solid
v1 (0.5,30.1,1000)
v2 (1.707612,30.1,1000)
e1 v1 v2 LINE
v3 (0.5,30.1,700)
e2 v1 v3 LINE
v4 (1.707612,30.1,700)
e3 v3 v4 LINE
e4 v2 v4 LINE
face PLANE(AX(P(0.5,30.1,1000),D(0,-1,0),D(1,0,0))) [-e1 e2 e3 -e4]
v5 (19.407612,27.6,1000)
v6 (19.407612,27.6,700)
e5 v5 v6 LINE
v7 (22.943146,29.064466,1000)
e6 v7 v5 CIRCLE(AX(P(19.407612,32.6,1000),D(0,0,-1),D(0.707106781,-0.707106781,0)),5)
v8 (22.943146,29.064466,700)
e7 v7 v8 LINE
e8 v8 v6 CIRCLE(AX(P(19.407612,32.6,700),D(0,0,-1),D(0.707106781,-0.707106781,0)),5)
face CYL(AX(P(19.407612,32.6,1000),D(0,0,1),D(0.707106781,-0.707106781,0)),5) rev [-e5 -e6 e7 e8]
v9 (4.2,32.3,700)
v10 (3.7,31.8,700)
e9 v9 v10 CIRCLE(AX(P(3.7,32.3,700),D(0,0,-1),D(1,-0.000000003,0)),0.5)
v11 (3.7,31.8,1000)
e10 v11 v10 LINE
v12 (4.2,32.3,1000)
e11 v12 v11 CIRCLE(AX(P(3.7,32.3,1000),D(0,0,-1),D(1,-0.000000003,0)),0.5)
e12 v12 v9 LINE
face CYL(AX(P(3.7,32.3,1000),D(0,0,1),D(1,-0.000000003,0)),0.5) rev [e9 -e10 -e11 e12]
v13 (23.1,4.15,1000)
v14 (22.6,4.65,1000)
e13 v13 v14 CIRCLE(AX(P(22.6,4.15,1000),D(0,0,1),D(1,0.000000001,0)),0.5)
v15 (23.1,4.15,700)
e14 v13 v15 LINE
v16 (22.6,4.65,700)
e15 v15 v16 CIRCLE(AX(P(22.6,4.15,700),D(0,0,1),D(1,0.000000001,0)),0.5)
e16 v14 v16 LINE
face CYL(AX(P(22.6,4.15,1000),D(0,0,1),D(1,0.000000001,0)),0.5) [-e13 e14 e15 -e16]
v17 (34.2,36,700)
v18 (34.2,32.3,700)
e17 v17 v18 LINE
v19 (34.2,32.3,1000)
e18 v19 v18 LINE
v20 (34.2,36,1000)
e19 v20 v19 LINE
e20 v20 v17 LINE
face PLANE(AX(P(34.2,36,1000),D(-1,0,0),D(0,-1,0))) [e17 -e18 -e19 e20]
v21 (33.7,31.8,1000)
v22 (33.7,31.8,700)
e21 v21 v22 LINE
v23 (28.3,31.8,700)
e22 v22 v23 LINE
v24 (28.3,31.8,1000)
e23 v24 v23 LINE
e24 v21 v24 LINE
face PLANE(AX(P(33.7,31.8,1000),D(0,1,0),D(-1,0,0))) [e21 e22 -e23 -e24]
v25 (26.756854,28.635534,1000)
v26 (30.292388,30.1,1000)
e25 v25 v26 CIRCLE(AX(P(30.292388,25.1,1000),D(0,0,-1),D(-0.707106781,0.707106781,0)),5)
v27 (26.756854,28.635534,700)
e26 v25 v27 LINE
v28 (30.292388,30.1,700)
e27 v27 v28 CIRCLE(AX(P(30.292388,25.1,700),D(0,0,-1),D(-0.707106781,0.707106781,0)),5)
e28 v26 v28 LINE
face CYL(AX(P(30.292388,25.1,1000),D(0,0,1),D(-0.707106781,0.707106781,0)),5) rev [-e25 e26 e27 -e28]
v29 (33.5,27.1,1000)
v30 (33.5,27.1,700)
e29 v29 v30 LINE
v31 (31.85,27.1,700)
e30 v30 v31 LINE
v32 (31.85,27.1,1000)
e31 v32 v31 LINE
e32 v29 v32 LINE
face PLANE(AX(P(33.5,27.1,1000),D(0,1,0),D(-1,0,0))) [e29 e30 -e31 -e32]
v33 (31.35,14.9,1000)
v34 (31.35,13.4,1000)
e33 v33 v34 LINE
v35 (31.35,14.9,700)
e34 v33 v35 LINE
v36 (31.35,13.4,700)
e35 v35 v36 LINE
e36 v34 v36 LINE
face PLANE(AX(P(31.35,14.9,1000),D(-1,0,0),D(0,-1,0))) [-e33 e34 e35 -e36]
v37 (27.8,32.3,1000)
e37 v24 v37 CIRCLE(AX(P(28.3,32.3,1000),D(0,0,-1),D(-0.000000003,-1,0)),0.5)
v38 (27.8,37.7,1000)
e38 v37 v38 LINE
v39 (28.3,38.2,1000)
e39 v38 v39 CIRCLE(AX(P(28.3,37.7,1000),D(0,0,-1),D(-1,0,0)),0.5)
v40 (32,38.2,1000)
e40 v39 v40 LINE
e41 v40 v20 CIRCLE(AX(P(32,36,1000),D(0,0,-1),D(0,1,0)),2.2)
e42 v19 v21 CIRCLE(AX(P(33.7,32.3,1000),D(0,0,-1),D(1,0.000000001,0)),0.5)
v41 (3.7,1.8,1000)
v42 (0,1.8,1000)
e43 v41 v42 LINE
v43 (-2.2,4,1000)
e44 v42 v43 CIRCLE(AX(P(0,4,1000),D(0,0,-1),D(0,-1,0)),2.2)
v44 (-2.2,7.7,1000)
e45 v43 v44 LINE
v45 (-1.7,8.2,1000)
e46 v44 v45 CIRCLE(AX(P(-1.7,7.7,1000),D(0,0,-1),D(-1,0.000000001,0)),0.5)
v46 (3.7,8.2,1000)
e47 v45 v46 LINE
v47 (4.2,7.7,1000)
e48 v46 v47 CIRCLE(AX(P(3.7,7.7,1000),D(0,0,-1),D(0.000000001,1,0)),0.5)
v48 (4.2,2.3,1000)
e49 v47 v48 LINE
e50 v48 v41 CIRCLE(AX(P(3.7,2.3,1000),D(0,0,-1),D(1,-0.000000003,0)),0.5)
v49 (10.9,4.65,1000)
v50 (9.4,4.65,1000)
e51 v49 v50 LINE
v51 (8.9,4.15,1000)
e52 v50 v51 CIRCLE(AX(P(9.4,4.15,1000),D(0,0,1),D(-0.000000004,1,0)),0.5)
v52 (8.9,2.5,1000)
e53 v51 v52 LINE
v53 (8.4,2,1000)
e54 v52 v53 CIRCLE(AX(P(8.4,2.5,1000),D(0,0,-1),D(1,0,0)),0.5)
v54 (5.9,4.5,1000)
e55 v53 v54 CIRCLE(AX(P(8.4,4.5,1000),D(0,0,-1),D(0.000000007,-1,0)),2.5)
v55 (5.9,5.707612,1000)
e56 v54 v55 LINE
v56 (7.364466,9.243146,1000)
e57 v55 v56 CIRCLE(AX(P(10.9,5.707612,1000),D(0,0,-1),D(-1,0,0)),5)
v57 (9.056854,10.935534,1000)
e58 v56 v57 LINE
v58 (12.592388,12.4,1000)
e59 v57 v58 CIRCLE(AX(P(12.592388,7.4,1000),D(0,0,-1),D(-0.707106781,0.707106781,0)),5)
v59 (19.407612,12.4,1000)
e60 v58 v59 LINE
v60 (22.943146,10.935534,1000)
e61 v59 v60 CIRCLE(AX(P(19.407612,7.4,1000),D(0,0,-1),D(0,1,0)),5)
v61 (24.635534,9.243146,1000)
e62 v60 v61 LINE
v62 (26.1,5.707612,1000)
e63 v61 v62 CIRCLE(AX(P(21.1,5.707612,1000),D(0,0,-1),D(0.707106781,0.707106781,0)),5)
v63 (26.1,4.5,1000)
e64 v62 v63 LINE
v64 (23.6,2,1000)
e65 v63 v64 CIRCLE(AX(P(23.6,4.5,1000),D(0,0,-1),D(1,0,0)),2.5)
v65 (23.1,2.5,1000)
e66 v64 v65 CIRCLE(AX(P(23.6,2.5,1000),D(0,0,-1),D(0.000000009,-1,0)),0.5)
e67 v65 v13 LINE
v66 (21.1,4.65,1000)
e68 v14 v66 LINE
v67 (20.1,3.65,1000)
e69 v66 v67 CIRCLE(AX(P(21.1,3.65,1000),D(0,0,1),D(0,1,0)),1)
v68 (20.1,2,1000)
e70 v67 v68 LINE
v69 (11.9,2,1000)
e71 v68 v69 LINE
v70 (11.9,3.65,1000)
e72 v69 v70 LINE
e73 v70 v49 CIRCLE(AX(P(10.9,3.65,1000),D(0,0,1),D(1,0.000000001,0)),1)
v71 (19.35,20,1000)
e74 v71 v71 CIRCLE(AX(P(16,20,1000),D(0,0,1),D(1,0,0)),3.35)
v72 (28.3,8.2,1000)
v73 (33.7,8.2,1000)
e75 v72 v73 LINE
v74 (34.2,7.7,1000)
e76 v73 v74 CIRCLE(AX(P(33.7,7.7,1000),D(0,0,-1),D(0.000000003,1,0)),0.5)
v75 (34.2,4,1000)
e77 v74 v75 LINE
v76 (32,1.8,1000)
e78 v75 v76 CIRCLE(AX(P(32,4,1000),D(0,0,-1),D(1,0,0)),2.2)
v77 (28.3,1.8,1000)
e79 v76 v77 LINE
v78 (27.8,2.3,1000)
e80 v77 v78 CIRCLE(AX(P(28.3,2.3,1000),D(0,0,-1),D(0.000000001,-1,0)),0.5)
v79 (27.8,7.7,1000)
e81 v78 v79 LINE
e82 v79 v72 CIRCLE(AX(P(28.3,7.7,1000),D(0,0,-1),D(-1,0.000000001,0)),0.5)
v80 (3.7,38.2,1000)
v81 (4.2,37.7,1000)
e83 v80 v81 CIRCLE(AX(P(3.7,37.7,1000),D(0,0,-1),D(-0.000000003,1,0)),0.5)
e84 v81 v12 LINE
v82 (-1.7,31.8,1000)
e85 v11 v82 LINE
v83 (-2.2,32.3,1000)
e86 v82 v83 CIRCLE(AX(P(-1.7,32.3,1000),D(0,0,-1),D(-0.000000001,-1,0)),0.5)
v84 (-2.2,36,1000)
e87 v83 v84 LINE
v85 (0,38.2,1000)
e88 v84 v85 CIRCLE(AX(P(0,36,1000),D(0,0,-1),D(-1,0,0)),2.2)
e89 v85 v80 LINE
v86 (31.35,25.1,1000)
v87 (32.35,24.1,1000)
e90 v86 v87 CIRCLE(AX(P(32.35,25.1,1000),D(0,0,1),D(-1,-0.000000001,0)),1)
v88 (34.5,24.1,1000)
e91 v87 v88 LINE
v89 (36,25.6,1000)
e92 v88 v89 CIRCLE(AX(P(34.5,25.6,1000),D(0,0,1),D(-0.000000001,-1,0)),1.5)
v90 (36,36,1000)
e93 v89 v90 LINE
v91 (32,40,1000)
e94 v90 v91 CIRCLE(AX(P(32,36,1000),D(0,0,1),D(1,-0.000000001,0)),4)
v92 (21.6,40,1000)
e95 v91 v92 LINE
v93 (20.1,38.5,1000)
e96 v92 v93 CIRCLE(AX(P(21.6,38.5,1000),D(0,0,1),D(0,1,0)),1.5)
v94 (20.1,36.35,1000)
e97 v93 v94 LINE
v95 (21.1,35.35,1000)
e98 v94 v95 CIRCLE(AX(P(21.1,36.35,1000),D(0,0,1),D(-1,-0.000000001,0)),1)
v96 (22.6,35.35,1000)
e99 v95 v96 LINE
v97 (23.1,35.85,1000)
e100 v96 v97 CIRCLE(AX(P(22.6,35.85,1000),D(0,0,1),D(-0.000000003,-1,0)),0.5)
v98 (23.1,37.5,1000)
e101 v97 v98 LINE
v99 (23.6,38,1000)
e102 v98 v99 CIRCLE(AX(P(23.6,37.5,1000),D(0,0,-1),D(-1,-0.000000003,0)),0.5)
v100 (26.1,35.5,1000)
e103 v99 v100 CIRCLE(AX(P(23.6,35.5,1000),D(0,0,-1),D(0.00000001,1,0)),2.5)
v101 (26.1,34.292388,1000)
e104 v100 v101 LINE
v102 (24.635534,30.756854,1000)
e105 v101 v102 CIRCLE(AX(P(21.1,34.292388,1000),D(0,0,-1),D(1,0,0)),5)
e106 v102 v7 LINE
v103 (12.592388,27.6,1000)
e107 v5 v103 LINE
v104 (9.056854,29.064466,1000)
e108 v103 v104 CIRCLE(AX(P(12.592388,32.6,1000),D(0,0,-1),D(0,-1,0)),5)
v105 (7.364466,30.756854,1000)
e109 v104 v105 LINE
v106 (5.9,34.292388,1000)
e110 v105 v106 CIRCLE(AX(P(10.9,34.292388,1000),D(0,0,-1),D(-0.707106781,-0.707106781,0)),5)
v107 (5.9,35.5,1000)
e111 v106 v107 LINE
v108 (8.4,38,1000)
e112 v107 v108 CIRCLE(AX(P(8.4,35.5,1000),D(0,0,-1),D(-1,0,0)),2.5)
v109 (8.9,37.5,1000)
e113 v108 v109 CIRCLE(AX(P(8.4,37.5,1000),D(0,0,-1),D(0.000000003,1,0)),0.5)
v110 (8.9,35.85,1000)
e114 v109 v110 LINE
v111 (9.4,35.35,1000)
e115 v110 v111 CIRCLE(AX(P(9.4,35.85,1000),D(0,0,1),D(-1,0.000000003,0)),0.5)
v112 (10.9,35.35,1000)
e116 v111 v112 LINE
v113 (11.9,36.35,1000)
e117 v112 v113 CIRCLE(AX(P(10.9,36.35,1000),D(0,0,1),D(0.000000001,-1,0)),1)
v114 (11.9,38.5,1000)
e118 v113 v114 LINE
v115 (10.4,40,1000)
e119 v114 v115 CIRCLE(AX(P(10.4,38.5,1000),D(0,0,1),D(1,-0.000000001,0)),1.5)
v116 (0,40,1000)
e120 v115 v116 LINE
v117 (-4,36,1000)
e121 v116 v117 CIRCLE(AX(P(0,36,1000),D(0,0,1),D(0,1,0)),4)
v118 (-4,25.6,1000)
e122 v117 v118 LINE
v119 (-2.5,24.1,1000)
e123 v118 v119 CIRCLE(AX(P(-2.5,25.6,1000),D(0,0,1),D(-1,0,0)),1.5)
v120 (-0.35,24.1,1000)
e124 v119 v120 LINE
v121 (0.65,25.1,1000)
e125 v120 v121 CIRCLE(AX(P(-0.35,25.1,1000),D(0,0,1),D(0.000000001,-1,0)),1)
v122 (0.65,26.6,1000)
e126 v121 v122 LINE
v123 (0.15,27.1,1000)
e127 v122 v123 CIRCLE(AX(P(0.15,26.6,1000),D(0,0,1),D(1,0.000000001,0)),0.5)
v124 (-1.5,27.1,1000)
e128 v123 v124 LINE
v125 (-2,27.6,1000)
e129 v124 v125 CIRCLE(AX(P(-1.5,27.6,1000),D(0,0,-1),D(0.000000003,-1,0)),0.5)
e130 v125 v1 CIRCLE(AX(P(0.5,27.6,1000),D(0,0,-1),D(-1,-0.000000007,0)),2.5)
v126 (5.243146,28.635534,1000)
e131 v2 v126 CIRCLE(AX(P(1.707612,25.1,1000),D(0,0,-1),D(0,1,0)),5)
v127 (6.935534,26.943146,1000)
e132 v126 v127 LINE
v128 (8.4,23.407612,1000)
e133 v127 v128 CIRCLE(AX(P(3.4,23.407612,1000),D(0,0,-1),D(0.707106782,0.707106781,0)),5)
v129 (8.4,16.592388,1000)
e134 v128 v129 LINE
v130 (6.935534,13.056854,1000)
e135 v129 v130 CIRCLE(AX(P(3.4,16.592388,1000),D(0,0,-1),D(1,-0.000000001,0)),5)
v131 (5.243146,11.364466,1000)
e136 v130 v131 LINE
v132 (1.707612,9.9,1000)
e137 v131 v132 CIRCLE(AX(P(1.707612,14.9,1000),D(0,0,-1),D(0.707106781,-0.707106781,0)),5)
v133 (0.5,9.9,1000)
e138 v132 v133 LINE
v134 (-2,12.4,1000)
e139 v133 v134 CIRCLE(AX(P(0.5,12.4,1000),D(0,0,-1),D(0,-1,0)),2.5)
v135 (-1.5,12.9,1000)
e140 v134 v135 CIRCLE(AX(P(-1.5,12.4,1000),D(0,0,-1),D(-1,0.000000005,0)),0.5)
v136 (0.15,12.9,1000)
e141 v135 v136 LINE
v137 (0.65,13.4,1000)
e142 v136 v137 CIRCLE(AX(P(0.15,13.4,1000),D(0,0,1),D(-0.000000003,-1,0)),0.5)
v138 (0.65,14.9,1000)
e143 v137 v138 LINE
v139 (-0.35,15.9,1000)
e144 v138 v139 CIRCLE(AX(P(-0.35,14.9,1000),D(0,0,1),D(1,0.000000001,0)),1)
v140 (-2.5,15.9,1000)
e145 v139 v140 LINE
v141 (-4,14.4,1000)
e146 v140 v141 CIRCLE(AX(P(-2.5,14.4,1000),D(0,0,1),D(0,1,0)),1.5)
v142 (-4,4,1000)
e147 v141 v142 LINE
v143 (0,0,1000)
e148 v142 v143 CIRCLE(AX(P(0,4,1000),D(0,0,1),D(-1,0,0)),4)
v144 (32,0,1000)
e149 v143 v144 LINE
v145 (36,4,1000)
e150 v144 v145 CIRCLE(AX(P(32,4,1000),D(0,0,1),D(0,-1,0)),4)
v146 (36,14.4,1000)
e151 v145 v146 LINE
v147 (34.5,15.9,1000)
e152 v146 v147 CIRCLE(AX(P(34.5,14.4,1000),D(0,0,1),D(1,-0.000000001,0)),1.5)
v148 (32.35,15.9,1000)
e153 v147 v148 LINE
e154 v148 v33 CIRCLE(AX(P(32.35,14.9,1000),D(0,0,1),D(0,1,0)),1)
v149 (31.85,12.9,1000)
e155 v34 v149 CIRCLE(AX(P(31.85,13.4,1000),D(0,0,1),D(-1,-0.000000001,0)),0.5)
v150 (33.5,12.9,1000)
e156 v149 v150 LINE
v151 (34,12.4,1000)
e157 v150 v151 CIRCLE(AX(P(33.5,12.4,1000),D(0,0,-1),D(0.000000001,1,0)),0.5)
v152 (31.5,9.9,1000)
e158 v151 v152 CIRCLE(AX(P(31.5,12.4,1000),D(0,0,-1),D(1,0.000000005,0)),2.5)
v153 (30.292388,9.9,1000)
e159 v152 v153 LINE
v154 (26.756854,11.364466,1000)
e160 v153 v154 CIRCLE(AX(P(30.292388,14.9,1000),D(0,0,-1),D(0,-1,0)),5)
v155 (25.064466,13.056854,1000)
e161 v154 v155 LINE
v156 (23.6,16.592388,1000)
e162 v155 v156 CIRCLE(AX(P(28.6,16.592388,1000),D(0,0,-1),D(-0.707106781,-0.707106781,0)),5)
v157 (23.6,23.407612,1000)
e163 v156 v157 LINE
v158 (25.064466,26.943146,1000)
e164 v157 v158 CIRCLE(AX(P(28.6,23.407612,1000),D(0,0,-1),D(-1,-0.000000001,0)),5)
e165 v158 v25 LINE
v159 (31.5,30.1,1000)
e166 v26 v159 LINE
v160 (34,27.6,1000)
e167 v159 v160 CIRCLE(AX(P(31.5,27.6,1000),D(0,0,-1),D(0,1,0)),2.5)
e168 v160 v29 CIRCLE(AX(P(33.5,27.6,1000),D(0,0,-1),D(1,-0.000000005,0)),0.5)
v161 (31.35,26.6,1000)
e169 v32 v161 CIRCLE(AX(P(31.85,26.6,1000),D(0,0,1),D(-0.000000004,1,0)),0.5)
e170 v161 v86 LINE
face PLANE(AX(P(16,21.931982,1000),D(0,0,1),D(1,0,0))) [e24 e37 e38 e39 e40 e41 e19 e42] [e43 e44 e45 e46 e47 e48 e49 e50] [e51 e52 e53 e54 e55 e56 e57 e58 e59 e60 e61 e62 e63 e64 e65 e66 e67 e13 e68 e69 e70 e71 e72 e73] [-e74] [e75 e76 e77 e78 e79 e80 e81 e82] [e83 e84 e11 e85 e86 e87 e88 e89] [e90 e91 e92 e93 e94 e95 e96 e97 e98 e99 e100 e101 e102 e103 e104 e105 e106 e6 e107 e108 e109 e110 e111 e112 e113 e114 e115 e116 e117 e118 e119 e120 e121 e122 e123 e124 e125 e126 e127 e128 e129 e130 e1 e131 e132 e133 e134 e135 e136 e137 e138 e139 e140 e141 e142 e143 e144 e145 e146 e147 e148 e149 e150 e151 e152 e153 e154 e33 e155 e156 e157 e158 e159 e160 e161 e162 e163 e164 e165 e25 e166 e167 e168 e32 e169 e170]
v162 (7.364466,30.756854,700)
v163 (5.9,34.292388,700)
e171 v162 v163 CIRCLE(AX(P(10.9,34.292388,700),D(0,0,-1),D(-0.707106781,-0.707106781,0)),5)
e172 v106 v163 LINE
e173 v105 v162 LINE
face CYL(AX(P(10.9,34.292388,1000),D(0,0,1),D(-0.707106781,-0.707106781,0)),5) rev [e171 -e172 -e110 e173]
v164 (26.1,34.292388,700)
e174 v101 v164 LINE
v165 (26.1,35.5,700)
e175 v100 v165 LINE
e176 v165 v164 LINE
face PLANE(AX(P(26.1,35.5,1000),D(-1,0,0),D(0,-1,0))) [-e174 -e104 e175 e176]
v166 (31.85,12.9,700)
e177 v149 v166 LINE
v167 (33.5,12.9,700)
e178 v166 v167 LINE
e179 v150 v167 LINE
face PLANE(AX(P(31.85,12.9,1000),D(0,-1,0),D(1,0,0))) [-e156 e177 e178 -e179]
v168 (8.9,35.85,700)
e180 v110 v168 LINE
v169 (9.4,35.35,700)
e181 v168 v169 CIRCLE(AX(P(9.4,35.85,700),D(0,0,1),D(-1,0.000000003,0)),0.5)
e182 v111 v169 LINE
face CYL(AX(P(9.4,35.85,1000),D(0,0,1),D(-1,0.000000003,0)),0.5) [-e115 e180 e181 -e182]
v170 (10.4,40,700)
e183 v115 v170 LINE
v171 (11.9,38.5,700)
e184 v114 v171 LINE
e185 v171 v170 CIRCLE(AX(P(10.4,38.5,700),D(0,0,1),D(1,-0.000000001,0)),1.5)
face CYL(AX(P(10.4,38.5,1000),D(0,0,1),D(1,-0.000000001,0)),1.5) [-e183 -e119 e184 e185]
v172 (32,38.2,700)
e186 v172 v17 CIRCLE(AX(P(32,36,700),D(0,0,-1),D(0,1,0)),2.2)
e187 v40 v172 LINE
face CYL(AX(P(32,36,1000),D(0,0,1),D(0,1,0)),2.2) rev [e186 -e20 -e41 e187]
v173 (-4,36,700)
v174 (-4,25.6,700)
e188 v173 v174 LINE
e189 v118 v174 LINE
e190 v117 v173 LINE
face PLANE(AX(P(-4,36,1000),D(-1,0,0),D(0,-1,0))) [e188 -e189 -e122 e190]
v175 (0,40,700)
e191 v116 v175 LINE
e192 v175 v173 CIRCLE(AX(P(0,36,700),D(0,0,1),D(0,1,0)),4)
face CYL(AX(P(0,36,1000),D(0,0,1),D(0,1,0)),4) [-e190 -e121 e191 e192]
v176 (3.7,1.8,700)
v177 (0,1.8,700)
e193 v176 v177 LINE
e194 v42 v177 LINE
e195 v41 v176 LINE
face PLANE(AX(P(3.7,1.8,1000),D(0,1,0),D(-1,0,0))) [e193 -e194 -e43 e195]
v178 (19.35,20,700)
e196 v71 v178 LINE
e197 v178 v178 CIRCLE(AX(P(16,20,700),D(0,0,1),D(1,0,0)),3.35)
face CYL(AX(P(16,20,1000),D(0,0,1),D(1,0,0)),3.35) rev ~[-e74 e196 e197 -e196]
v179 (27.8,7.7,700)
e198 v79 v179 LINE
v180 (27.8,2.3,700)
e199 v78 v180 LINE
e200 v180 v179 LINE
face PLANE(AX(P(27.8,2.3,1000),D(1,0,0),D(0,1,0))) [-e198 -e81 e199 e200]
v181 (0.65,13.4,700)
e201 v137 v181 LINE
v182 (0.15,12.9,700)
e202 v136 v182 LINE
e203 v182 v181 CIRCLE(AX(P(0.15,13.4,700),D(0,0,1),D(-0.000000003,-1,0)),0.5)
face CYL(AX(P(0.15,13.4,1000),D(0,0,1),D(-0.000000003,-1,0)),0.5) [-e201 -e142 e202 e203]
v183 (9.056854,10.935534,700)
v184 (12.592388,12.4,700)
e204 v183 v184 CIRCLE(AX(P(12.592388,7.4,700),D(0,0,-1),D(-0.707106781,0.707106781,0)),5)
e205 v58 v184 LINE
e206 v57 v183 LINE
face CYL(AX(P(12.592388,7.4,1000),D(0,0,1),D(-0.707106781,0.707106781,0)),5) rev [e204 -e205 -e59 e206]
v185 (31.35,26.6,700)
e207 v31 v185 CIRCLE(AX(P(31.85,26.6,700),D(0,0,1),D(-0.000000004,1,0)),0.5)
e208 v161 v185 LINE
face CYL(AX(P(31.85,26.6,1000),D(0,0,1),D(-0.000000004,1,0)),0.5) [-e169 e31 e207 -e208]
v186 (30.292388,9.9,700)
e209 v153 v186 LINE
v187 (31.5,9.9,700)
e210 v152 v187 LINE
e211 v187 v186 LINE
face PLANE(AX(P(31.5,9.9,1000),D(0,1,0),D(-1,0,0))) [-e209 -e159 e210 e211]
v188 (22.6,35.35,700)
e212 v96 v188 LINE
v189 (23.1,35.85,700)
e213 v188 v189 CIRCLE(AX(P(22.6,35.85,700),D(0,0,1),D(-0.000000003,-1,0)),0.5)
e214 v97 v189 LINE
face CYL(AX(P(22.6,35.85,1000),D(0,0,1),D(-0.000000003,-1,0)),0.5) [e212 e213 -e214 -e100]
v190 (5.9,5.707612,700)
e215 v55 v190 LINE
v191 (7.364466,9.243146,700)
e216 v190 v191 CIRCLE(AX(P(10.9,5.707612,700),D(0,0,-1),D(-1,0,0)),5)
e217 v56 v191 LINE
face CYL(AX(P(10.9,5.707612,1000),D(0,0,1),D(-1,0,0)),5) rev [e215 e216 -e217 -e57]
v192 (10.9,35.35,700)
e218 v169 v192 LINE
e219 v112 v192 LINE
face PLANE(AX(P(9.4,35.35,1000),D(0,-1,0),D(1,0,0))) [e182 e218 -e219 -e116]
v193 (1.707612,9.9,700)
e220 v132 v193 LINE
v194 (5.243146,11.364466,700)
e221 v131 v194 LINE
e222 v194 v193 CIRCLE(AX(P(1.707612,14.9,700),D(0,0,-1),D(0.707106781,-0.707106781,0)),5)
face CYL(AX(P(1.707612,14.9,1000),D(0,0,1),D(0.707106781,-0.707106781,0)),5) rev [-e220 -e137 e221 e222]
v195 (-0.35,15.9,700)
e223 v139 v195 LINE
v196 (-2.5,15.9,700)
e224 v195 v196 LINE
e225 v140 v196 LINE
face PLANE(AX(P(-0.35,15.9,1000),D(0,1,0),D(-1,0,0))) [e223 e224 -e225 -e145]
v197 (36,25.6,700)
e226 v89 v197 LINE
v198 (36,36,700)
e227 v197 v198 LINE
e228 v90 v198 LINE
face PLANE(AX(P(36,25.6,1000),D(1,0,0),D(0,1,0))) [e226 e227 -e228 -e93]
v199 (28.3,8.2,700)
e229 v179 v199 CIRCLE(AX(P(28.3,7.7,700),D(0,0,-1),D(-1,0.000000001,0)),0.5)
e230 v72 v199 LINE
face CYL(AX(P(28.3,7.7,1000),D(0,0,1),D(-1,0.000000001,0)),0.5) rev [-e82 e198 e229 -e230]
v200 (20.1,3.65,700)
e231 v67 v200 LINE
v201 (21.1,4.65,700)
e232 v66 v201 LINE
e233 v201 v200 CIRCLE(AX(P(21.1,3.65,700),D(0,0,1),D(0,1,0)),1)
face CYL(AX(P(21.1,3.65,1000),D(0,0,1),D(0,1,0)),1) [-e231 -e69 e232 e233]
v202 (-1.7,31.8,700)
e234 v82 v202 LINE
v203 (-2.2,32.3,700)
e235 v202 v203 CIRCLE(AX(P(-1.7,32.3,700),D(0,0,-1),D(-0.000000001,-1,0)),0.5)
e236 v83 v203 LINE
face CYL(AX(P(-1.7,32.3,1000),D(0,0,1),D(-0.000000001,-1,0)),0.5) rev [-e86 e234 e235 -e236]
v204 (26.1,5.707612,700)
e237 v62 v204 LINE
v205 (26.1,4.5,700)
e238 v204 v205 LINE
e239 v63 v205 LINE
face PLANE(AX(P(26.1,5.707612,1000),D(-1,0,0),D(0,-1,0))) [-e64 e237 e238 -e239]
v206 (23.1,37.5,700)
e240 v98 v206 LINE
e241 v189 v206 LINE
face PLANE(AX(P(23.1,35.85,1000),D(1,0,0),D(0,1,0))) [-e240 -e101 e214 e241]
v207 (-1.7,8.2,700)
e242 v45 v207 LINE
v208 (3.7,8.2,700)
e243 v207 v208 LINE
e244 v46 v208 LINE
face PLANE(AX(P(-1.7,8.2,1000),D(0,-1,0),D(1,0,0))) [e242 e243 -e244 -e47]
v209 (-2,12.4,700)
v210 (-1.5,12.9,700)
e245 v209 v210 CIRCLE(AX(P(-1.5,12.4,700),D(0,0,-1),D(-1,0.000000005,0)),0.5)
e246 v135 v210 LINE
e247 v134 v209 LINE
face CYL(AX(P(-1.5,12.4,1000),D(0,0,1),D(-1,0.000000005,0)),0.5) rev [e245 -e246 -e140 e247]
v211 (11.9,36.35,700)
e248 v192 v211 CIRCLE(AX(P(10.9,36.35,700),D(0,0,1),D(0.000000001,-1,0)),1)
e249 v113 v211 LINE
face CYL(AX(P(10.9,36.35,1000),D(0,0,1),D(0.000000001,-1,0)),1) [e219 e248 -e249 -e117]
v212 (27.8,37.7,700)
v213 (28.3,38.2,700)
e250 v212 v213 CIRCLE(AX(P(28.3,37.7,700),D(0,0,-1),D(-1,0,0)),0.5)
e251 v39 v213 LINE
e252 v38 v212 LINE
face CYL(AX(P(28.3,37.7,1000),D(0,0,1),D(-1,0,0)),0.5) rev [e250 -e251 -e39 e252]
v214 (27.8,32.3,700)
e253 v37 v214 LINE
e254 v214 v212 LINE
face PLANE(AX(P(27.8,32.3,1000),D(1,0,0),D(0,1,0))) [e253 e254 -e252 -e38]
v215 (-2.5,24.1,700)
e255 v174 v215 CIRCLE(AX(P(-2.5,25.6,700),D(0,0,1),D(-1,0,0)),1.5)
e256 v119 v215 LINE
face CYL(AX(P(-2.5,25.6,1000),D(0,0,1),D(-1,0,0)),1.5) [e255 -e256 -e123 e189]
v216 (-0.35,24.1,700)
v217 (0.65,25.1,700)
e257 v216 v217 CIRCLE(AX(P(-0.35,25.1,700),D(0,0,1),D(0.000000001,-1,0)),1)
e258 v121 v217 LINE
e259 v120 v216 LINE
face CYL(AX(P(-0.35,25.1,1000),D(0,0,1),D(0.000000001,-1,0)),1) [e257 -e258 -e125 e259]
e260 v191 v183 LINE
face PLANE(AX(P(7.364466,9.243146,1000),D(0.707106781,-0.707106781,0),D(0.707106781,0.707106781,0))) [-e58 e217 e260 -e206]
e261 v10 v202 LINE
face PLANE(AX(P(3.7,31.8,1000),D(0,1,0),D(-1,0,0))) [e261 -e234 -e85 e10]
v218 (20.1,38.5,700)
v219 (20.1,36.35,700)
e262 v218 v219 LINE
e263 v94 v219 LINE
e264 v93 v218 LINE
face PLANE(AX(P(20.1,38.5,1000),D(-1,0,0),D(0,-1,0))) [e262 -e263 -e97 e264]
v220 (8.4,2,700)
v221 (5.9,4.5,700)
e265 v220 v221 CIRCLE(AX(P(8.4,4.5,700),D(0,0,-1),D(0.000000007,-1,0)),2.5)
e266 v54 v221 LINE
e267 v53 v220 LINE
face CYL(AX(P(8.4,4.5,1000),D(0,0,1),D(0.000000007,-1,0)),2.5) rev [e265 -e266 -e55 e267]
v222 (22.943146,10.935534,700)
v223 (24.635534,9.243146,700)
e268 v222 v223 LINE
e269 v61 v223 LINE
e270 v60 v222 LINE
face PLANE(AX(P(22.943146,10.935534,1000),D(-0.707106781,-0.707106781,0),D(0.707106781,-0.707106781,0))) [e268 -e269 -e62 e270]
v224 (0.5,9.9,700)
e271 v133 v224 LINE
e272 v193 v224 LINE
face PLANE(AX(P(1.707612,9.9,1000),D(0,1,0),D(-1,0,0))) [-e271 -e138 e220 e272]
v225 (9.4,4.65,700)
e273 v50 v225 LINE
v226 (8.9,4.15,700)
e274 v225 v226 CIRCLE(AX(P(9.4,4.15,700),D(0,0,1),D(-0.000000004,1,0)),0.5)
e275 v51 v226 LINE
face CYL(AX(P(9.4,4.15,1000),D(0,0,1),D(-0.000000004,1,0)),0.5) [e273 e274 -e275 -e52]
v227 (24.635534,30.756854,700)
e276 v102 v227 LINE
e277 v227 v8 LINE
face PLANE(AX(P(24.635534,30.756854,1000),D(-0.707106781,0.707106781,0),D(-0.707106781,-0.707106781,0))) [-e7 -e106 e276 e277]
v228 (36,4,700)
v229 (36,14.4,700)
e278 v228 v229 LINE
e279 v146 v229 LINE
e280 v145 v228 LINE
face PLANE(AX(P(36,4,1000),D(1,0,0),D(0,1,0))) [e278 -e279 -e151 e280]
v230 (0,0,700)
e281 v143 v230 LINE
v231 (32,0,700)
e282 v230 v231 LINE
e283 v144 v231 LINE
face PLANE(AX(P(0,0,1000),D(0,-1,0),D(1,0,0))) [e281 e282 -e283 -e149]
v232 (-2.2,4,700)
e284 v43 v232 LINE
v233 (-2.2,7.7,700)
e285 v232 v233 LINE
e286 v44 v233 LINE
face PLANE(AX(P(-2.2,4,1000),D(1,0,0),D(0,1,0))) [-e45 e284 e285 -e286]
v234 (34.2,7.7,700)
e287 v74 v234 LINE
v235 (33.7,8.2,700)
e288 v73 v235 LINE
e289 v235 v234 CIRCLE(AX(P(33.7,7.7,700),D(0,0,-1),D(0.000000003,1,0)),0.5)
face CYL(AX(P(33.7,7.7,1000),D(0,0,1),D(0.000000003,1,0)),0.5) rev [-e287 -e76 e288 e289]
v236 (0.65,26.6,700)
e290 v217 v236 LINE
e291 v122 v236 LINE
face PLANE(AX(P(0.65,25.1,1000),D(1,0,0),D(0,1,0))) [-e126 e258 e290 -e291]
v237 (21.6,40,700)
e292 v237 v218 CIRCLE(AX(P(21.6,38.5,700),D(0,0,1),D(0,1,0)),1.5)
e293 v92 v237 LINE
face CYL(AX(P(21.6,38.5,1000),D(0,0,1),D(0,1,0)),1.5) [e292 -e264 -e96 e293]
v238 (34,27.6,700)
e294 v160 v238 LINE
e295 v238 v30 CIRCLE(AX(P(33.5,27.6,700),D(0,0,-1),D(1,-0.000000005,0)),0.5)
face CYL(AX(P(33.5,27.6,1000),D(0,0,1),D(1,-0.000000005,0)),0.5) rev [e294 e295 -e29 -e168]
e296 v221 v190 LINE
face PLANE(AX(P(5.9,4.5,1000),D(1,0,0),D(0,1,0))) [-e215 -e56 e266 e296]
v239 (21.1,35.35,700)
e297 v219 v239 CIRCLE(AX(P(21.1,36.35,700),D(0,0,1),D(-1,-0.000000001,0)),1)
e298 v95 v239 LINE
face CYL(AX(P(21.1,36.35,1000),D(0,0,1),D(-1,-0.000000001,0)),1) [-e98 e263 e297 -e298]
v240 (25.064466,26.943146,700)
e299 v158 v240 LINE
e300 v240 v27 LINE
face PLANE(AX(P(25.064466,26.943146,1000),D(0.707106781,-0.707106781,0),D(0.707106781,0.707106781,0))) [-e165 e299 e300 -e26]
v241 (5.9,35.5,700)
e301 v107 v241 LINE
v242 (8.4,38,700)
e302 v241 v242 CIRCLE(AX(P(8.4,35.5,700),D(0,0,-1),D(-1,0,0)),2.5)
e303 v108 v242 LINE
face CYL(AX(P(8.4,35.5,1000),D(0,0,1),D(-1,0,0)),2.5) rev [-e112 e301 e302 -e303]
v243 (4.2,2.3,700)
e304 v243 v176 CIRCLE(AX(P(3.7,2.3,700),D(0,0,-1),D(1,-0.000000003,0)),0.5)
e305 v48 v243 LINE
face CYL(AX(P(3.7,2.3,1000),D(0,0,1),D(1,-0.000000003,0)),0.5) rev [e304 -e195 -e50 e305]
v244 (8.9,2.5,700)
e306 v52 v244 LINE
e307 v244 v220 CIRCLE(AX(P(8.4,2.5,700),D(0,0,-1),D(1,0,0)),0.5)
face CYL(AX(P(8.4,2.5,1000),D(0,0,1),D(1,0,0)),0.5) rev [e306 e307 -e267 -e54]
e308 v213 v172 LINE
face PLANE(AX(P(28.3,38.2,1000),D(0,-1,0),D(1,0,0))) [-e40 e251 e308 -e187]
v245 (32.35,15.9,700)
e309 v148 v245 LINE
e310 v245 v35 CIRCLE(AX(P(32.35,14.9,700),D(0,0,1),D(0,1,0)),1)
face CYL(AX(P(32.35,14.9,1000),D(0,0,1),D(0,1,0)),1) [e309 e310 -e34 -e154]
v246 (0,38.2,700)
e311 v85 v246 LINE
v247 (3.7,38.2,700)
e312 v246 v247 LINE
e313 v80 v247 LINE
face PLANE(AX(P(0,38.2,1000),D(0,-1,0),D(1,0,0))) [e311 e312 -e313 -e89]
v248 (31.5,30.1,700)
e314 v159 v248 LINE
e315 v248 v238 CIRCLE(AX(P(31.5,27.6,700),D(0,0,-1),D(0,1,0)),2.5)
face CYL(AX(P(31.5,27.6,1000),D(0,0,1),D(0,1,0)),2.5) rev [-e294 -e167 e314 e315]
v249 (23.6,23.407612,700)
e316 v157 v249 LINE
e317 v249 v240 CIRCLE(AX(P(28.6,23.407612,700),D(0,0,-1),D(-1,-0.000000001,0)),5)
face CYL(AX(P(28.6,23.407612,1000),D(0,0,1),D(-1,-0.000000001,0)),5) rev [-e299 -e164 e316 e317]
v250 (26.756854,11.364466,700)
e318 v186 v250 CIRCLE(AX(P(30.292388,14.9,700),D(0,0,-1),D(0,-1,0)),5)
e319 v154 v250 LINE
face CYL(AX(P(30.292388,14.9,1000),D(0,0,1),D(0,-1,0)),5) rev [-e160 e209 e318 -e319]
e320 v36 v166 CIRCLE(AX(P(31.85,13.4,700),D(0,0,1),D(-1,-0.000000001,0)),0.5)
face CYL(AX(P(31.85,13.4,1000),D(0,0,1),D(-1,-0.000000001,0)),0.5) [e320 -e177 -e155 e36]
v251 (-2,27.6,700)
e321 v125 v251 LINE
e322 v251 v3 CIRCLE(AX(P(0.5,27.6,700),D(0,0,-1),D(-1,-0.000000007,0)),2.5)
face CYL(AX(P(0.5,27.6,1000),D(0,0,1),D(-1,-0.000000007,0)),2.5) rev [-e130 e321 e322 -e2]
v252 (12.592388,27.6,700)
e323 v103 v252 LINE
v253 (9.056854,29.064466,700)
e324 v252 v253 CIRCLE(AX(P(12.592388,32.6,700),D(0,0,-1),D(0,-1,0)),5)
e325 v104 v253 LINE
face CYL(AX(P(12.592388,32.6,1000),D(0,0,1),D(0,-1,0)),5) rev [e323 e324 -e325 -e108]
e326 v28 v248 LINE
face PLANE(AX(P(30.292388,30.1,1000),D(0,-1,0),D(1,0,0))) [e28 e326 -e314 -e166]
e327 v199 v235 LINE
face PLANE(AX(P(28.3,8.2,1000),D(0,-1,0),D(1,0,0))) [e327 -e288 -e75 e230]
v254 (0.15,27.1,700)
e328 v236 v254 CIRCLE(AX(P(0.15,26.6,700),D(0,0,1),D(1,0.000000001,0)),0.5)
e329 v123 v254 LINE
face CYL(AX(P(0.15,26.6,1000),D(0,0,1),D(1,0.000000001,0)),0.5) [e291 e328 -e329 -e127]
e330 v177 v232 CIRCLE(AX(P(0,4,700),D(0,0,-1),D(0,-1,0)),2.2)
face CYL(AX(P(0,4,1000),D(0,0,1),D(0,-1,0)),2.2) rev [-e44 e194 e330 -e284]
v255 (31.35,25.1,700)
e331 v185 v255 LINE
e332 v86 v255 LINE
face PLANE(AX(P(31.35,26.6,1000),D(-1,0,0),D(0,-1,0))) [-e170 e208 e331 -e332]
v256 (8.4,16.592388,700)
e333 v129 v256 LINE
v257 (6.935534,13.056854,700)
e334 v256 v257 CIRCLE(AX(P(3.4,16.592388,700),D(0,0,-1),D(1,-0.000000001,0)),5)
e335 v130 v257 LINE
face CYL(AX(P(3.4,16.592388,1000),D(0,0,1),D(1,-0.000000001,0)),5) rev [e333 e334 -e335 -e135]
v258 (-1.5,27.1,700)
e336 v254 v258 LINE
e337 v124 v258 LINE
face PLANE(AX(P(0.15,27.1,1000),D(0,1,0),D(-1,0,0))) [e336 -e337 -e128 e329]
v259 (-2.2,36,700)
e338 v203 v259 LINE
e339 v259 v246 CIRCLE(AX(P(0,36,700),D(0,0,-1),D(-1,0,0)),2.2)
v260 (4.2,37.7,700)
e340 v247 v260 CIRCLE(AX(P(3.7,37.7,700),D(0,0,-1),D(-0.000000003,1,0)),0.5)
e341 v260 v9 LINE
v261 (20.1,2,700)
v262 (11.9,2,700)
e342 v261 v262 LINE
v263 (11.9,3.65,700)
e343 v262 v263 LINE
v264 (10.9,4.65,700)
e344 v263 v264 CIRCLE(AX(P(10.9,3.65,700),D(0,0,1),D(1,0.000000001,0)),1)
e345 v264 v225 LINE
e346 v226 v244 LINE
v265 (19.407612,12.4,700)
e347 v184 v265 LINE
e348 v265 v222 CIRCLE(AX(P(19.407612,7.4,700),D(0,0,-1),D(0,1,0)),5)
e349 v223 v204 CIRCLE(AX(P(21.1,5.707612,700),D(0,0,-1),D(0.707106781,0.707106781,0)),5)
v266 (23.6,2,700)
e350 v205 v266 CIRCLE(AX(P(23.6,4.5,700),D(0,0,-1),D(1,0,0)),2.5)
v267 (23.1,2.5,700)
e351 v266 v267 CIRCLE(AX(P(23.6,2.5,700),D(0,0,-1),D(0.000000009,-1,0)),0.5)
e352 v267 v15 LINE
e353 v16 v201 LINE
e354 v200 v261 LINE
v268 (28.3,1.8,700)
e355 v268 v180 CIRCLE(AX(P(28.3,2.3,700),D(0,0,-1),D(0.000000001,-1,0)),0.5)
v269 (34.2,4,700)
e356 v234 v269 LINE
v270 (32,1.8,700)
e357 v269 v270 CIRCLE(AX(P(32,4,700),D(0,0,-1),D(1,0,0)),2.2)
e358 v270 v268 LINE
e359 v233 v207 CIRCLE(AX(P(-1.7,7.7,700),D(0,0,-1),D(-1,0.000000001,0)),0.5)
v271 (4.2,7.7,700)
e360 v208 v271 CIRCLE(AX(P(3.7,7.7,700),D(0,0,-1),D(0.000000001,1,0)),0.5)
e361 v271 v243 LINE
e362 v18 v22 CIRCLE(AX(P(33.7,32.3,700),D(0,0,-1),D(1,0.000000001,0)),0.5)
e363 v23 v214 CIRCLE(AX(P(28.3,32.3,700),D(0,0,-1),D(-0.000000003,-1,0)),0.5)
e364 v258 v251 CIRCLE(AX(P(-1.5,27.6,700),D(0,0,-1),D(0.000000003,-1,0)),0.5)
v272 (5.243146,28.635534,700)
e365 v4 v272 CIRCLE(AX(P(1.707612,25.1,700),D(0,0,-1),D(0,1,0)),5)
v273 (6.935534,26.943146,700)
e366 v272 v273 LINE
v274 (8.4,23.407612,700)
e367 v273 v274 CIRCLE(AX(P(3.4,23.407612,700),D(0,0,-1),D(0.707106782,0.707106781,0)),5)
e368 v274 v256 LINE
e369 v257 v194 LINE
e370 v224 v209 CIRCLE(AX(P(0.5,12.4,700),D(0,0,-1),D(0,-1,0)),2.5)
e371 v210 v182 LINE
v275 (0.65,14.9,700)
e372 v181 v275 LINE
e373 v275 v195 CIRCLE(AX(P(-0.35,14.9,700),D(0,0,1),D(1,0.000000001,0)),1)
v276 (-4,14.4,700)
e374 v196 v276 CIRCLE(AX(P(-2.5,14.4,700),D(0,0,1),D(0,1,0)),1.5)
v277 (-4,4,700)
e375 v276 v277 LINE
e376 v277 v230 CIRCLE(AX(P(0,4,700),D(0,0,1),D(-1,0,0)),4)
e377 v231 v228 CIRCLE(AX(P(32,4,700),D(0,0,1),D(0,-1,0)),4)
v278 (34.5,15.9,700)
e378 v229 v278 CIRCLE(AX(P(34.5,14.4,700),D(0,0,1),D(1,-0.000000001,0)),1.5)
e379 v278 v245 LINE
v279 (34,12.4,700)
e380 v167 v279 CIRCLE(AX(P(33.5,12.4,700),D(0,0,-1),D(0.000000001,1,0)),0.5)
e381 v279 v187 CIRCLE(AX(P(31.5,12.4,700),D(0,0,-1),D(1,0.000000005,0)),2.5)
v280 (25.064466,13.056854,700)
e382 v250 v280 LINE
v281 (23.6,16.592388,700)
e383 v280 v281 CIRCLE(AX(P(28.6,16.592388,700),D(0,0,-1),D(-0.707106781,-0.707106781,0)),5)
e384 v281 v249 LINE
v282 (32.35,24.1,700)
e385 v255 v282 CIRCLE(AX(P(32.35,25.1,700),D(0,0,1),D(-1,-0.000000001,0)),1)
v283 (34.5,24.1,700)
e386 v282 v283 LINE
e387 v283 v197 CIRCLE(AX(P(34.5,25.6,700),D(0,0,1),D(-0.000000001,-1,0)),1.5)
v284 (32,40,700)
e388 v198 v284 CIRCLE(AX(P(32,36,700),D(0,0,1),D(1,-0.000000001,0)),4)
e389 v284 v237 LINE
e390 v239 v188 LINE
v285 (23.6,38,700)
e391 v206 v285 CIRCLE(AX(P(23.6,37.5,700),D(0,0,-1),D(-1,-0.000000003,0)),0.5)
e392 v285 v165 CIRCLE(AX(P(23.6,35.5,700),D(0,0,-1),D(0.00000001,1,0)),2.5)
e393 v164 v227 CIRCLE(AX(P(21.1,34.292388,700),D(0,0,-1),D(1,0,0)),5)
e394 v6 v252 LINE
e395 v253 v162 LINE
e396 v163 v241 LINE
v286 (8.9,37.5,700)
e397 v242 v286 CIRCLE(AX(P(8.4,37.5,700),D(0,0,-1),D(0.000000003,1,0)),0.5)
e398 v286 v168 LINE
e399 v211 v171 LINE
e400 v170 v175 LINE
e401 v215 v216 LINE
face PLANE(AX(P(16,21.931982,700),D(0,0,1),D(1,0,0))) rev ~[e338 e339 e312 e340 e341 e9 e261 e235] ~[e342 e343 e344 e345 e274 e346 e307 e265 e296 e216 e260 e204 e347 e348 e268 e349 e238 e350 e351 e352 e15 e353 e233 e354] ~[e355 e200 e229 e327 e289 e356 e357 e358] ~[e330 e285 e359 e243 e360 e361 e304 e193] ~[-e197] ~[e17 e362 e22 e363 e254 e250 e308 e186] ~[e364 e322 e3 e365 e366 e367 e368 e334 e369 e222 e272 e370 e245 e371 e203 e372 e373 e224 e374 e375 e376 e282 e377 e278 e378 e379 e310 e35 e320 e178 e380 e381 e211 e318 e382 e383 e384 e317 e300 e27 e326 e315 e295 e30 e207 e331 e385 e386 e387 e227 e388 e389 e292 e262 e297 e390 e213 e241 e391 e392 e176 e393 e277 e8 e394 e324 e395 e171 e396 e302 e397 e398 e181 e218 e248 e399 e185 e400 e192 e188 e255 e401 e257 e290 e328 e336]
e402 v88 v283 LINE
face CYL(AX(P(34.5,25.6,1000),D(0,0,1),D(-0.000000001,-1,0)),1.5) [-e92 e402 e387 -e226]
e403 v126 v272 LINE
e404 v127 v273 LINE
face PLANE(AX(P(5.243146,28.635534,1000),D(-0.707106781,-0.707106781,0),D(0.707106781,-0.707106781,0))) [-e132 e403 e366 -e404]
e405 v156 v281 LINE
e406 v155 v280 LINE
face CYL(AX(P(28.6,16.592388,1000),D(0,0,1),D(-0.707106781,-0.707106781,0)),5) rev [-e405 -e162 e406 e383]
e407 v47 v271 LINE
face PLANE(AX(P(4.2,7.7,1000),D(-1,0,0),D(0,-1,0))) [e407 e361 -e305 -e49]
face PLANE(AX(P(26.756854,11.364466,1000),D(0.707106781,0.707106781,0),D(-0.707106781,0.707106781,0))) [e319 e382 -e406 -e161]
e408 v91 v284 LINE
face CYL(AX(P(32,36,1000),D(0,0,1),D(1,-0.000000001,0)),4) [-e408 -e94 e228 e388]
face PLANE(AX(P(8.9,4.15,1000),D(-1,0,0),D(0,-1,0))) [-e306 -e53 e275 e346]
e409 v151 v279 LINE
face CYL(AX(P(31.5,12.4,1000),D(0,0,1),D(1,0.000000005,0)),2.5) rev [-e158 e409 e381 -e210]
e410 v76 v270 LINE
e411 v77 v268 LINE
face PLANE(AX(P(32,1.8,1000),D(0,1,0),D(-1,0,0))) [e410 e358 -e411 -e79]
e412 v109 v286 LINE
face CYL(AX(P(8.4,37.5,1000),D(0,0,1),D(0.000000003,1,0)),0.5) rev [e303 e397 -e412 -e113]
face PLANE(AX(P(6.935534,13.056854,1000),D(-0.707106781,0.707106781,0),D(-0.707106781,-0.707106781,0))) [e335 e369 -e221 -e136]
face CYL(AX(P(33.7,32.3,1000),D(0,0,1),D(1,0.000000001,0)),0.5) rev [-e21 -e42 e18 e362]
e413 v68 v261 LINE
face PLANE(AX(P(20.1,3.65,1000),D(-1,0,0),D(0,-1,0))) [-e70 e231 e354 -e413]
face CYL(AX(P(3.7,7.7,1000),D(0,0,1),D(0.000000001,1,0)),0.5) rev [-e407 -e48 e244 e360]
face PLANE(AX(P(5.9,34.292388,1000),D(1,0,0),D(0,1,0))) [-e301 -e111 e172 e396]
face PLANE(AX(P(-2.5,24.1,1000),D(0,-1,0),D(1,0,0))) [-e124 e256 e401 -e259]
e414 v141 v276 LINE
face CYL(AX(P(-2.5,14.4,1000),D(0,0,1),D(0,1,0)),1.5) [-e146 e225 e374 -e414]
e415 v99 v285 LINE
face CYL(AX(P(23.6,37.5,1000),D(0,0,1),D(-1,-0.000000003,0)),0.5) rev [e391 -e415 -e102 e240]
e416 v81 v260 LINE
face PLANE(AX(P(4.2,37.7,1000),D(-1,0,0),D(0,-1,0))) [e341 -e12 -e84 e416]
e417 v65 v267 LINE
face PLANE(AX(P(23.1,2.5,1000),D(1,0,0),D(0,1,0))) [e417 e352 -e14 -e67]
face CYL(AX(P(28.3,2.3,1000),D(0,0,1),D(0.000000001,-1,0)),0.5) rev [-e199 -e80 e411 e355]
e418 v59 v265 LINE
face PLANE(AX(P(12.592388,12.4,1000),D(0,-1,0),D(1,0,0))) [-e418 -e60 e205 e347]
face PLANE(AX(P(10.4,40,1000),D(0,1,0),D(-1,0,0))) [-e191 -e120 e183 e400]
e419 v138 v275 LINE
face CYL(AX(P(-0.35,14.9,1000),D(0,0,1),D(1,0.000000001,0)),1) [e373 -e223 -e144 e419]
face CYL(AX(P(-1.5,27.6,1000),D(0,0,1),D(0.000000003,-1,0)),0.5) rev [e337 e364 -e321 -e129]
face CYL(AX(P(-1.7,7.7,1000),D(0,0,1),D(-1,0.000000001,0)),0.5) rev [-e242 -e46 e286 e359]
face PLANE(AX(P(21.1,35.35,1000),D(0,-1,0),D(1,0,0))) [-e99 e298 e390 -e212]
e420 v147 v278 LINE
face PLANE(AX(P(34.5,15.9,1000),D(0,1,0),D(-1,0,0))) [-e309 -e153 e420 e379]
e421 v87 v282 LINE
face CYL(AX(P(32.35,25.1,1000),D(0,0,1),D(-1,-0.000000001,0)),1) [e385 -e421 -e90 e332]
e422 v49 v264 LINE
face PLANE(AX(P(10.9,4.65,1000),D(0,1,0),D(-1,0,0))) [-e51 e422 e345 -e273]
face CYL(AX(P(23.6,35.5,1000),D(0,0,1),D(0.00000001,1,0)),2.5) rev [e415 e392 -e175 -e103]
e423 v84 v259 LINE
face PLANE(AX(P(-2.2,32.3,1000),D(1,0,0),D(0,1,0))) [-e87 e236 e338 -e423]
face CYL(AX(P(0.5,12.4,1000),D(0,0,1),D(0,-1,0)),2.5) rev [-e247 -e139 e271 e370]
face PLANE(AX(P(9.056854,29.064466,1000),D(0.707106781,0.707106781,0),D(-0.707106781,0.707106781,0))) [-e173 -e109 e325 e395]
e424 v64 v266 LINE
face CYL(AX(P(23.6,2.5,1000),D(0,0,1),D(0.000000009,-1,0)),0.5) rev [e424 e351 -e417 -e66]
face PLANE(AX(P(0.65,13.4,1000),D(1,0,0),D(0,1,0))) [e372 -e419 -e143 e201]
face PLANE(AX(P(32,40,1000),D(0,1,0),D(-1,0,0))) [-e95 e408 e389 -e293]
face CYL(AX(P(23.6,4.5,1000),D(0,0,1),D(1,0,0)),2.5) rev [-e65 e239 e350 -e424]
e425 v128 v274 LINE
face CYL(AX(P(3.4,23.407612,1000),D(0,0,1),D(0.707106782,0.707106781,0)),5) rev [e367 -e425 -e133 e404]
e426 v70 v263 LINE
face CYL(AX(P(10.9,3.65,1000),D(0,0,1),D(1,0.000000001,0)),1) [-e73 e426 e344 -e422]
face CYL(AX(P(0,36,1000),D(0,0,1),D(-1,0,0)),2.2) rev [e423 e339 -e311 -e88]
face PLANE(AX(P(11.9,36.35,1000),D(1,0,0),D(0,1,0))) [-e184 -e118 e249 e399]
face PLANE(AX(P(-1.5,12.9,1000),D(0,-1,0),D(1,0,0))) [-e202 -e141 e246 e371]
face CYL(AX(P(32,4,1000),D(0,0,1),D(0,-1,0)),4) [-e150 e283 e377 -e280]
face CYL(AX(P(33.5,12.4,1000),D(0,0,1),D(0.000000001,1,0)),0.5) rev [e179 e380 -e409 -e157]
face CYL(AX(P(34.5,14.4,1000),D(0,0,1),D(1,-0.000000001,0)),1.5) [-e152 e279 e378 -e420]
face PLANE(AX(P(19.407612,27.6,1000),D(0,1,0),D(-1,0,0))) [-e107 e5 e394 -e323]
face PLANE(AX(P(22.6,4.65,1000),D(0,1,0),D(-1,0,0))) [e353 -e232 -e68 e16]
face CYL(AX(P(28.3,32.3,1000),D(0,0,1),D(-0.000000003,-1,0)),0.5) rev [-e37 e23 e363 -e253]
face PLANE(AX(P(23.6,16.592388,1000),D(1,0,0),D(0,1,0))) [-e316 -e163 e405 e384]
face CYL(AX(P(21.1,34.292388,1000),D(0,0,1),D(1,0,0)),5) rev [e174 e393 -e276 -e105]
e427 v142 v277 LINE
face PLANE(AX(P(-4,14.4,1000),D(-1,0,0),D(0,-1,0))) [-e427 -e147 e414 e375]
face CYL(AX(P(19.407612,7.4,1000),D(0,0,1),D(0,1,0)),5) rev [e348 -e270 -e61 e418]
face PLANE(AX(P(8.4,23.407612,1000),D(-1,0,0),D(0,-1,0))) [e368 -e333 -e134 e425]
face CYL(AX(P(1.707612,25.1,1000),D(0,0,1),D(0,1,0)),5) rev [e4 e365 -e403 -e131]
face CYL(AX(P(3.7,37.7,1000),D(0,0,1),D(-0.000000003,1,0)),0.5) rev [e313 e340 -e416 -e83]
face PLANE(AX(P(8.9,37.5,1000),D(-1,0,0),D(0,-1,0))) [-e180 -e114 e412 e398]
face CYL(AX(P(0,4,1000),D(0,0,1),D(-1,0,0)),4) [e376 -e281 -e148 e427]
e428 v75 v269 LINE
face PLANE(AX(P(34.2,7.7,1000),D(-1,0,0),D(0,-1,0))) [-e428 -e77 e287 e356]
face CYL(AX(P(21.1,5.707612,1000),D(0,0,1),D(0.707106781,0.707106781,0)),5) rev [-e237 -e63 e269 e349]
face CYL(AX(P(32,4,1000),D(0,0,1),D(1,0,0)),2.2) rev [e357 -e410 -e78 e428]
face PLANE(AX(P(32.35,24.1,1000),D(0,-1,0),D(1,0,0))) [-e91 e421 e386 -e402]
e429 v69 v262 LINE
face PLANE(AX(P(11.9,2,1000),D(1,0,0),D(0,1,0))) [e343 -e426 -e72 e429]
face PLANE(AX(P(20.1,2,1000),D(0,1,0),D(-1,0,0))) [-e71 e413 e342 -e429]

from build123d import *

# Parameters (mm, degrees)
SKIZZE1_R                       = 3.35
AUFSATZ_LINEAR_AUSTRAGEN1_DEPTH = 300


with BuildPart() as part:
    # Skizze1 → Aufsatz-Linear austragen1 (new body)
    with BuildSketch(Plane.XY.offset(1000)):
        with BuildLine():
            Line((5.899999985, 34.292388165), (5.899999985, 35.500000003))
            ThreePointArc((5.899999985, 35.500000003), (6.632233037, 37.267766961), (8.399999999, 38.000000003))
            ThreePointArc((8.399999999, 38.000000003), (8.753553388, 37.853553393), (8.899999996, 37.500000003))
            Line((8.899999996, 37.500000003), (8.899999996, 35.850000004))
            ThreePointArc((8.899999996, 35.850000004), (9.046446605, 35.496446613), (9.399999996, 35.350000004))
            Line((9.399999996, 35.350000004), (10.899999947, 35.350000004))
            ThreePointArc((10.899999947, 35.350000004), (11.607106728, 35.642893223), (11.899999947, 36.350000004))
            Line((11.899999947, 36.350000004), (11.899999947, 38.500000016))
            ThreePointArc((11.899999947, 38.500000016), (11.460660119, 39.560660188), (10.399999947, 40.000000016))
            Line((10.399999947, 40.000000016), (5.2e-08, 40.000000016))
            ThreePointArc((5.2e-08, 40.000000016), (-2.828427117, 38.828427123), (-4.000000011, 35.999999954))
            Line((-4.000000011, 35.999999954), (-4.000000011, 25.599999996))
            ThreePointArc((-4.000000011, 25.599999996), (-3.560660183, 24.539339825), (-2.500000012, 24.099999997))
            Line((-2.500000012, 24.099999997), (-0.350000011, 24.099999997))
            ThreePointArc((-0.350000011, 24.099999997), (0.35710677, 24.392893216), (0.649999989, 25.099999997))
            Line((0.649999989, 25.099999997), (0.649999989, 26.599999997))
            ThreePointArc((0.649999989, 26.599999997), (0.50355338, 26.953553387), (0.149999989, 27.099999997))
            Line((0.149999989, 27.099999997), (-1.500000011, 27.099999997))
            ThreePointArc((-1.500000011, 27.099999997), (-1.853553401, 27.246446605), (-2.000000011, 27.599999993))
            ThreePointArc((-2.000000011, 27.599999993), (-1.26776697, 29.367766957), (0.499999989, 30.10000001))
            Line((0.499999989, 30.10000001), (1.707611833, 30.10000001))
            ThreePointArc((1.707611833, 30.10000001), (3.621028995, 29.719397673), (5.243145739, 28.635533916))
            Line((5.243145739, 28.635533916), (6.935533894, 26.943145761))
            ThreePointArc((6.935533894, 26.943145761), (8.01939765, 25.321029017), (8.399999988, 23.407611855))
            Line((8.399999988, 23.407611855), (8.399999988, 16.592388122))
            ThreePointArc((8.399999988, 16.592388122), (8.01939765, 14.678970961), (6.935533894, 13.056854217))
            Line((6.935533894, 13.056854217), (5.243145737, 11.36446606))
            ThreePointArc((5.243145737, 11.36446606), (3.621028993, 10.280602303), (1.707611831, 9.899999966))
            Line((1.707611831, 9.899999966), (0.49999999, 9.899999966))
            ThreePointArc((0.49999999, 9.899999966), (-1.267766968, 10.632233018), (-2.00000001, 12.399999979))
            ThreePointArc((-2.00000001, 12.399999979), (-1.8535534, 12.753553368), (-1.50000001, 12.899999977))
            Line((-1.50000001, 12.899999977), (0.149999989, 12.899999977))
            ThreePointArc((0.149999989, 12.899999977), (0.50355338, 13.046446586), (0.649999989, 13.399999977))
            Line((0.649999989, 13.399999977), (0.649999989, 14.899999976))
            ThreePointArc((0.649999989, 14.899999976), (0.35710677, 15.607106757), (-0.350000011, 15.899999976))
            Line((-0.350000011, 15.899999976), (-2.50000001, 15.899999976))
            ThreePointArc((-2.50000001, 15.899999976), (-3.560660182, 15.460660148), (-4.000000011, 14.399999976))
            Line((-4.000000011, 14.399999976), (-4.000000011, 4.000000069))
            ThreePointArc((-4.000000011, 4.000000069), (-2.828427121, 1.171572909), (4e-08, 1.9e-08))
            Line((4e-08, 1.9e-08), (31.999999925, 1.9e-08))
            ThreePointArc((31.999999925, 1.9e-08), (34.828427086, 1.171572909), (35.999999976, 4.00000007))
            Line((35.999999976, 4.00000007), (35.999999976, 14.399999977))
            ThreePointArc((35.999999976, 14.399999977), (35.560660149, 15.460660148), (34.499999978, 15.899999976))
            Line((34.499999978, 15.899999976), (32.349999991, 15.899999976))
            ThreePointArc((32.349999991, 15.899999976), (31.642893209, 15.607106757), (31.34999999, 14.899999976))
            Line((31.34999999, 14.899999976), (31.34999999, 13.399999977))
            ThreePointArc((31.34999999, 13.399999977), (31.4964466, 13.046446586), (31.84999999, 12.899999977))
            Line((31.84999999, 12.899999977), (33.499999991, 12.899999977))
            ThreePointArc((33.499999991, 12.899999977), (33.853553381, 12.753553368), (33.999999991, 12.399999979))
            ThreePointArc((33.999999991, 12.399999979), (33.267766949, 10.632233018), (31.499999991, 9.899999966))
            Line((31.499999991, 9.899999966), (30.292388185, 9.899999966))
            ThreePointArc((30.292388185, 9.899999966), (28.378971023, 10.280602303), (26.756854279, 11.36446606))
            Line((26.756854279, 11.36446606), (25.064466082, 13.056854257))
            ThreePointArc((25.064466082, 13.056854257), (23.980602325, 14.678971001), (23.599999988, 16.592388163))
            Line((23.599999988, 16.592388163), (23.599999988, 23.407611842))
            ThreePointArc((23.599999988, 23.407611842), (23.980602325, 25.321029004), (25.064466082, 26.943145747))
            Line((25.064466082, 26.943145747), (26.75685425, 28.635533916))
            ThreePointArc((26.75685425, 28.635533916), (28.378970995, 29.719397673), (30.292388156, 30.10000001))
            Line((30.292388156, 30.10000001), (31.499999989, 30.10000001))
            ThreePointArc((31.499999989, 30.10000001), (33.267766948, 29.367766957), (33.999999989, 27.599999993))
            ThreePointArc((33.999999989, 27.599999993), (33.853553379, 27.246446605), (33.499999989, 27.099999997))
            Line((33.499999989, 27.099999997), (31.84999999, 27.099999997))
            ThreePointArc((31.84999999, 27.099999997), (31.4964466, 26.953553387), (31.34999999, 26.599999997))
            Line((31.34999999, 26.599999997), (31.34999999, 25.099999997))
            ThreePointArc((31.34999999, 25.099999997), (31.642893209, 24.392893216), (32.34999999, 24.099999997))
            Line((32.34999999, 24.099999997), (34.499999976, 24.099999997))
            ThreePointArc((34.499999976, 24.099999997), (35.560660148, 24.539339825), (35.999999976, 25.599999997))
            Line((35.999999976, 25.599999997), (35.999999976, 35.999999953))
            ThreePointArc((35.999999976, 35.999999953), (34.828427083, 38.828427123), (31.999999914, 40.000000016))
            Line((31.999999914, 40.000000016), (21.600000015, 40.000000016))
            ThreePointArc((21.600000015, 40.000000016), (20.539339844, 39.560660188), (20.100000016, 38.500000017))
            Line((20.100000016, 38.500000017), (20.100000016, 36.350000004))
            ThreePointArc((20.100000016, 36.350000004), (20.392893235, 35.642893223), (21.100000017, 35.350000004))
            Line((21.100000017, 35.350000004), (22.600000014, 35.350000004))
            ThreePointArc((22.600000014, 35.350000004), (22.953553405, 35.496446613), (23.100000014, 35.850000004))
            Line((23.100000014, 35.850000004), (23.100000014, 37.500000007))
            ThreePointArc((23.100000014, 37.500000007), (23.246446625, 37.8535534), (23.600000019, 38.000000007))
            ThreePointArc((23.600000019, 38.000000007), (25.367766955, 37.267766951), (26.099999992, 35.500000007))
            Line((26.099999992, 35.500000007), (26.099999992, 34.292388127))
            ThreePointArc((26.099999992, 34.292388127), (25.719397655, 32.378970966), (24.635533898, 30.756854221))
            Line((24.635533898, 30.756854221), (22.943145779, 29.064466103))
            ThreePointArc((22.943145779, 29.064466103), (21.321029035, 27.980602346), (19.407611873, 27.600000009))
            Line((19.407611873, 27.600000009), (12.592388142, 27.600000009))
            ThreePointArc((12.592388142, 27.600000009), (10.678970981, 27.980602346), (9.056854237, 29.064466102))
            Line((9.056854237, 29.064466102), (7.36446608, 30.75685426))
            ThreePointArc((7.36446608, 30.75685426), (6.280602323, 32.378971004), (5.899999985, 34.292388165))
        make_face()
        with Locations((15.999999985, 20)):
            Circle(SKIZZE1_R, mode=Mode.SUBTRACT)
        with BuildLine():
            Line((27.799999996, 32.299999708), (27.799999996, 37.700000083))
            ThreePointArc((27.799999996, 37.700000083), (27.946446591, 38.053553439), (28.299999947, 38.200000034))
            Line((28.299999947, 38.200000034), (31.999999914, 38.200000034))
            ThreePointArc((31.999999914, 38.200000034), (33.555634889, 37.555634929), (34.199999994, 35.999999953))
            Line((34.199999994, 35.999999953), (34.199999994, 32.300000046))
            ThreePointArc((34.199999994, 32.300000046), (34.053553382, 31.946446648), (33.699999983, 31.800000035))
            Line((33.699999983, 31.800000035), (28.299999669, 31.800000035))
            ThreePointArc((28.299999669, 31.800000035), (27.94644651, 31.946446549), (27.799999996, 32.299999708))
        make_face(mode=Mode.SUBTRACT)
        with BuildLine():
            Line((28.299999669, 8.199999998), (33.700000043, 8.199999998))
            ThreePointArc((33.700000043, 8.199999998), (34.053553399, 8.053553402), (34.199999994, 7.700000046))
            Line((34.199999994, 7.700000046), (34.199999994, 4.00000007))
            ThreePointArc((34.199999994, 4.00000007), (33.555634893, 2.444365103), (31.999999925, 1.800000001))
            Line((31.999999925, 1.800000001), (28.300000007, 1.800000001))
            ThreePointArc((28.300000007, 1.800000001), (27.946446609, 1.946446613), (27.799999996, 2.300000012))
            Line((27.799999996, 2.300000012), (27.799999996, 7.700000324))
            ThreePointArc((27.799999996, 7.700000324), (27.94644651, 8.053553484), (28.299999669, 8.199999998))
        make_face(mode=Mode.SUBTRACT)
        with BuildLine():
            Line((3.700000285, 31.800000035), (-1.700000077, 31.800000035))
            ThreePointArc((-1.700000077, 31.800000035), (-2.053553433, 31.94644663), (-2.200000029, 32.299999986))
            Line((-2.200000029, 32.299999986), (-2.200000029, 35.999999954))
            ThreePointArc((-2.200000029, 35.999999954), (-1.555634924, 37.555634929), (5.2e-08, 38.200000034))
            Line((5.2e-08, 38.200000034), (3.699999947, 38.200000034))
            ThreePointArc((3.699999947, 38.200000034), (4.053553346, 38.053553422), (4.199999959, 37.700000023))
            Line((4.199999959, 37.700000023), (4.199999959, 32.299999708))
            ThreePointArc((4.199999959, 32.299999708), (4.053553445, 31.946446549), (3.700000285, 31.800000035))
        make_face(mode=Mode.SUBTRACT)
        with BuildLine():
            Line((4.199999959, 7.700000324), (4.199999959, 2.299999952))
            ThreePointArc((4.199999959, 2.299999952), (4.053553363, 1.946446596), (3.700000007, 1.800000001))
            Line((3.700000007, 1.800000001), (4e-08, 1.800000001))
            ThreePointArc((4e-08, 1.800000001), (-1.555634927, 2.444365102), (-2.200000029, 4.000000069))
            Line((-2.200000029, 4.000000069), (-2.200000029, 7.699999986))
            ThreePointArc((-2.200000029, 7.699999986), (-2.053553416, 8.053553385), (-1.700000017, 8.199999998))
            Line((-1.700000017, 8.199999998), (3.700000285, 8.199999998))
            ThreePointArc((3.700000285, 8.199999998), (4.053553445, 8.053553484), (4.199999959, 7.700000324))
        make_face(mode=Mode.SUBTRACT)
        with BuildLine():
            Line((20.100000016, 2.000000008), (11.899999947, 2.000000008))
            Line((11.899999947, 2.000000008), (11.899999947, 3.649999992))
            ThreePointArc((11.899999947, 3.649999992), (11.607106728, 4.357106773), (10.899999947, 4.649999992))
            Line((10.899999947, 4.649999992), (9.399999996, 4.649999992))
            ThreePointArc((9.399999996, 4.649999992), (9.046446606, 4.503553382), (8.899999996, 4.149999992))
            Line((8.899999996, 4.149999992), (8.899999996, 2.499999991))
            ThreePointArc((8.899999996, 2.499999991), (8.753553389, 2.146446604), (8.400000003, 1.999999994))
            ThreePointArc((8.400000003, 1.999999994), (6.632233039, 2.732233035), (5.899999985, 4.499999994))
            Line((5.899999985, 4.499999994), (5.899999985, 5.707611838))
            ThreePointArc((5.899999985, 5.707611838), (6.280602323, 7.621029001), (7.36446608, 9.243145746))
            Line((7.36446608, 9.243145746), (9.056854238, 10.935533903))
            ThreePointArc((9.056854238, 10.935533903), (10.678970982, 12.01939766), (12.592388143, 12.399999997))
            Line((12.592388143, 12.399999997), (19.407611847, 12.399999997))
            ThreePointArc((19.407611847, 12.399999997), (21.321029008, 12.01939766), (22.943145752, 10.935533904))
            Line((22.943145752, 10.935533904), (24.635533898, 9.243145757))
            ThreePointArc((24.635533898, 9.243145757), (25.719397655, 7.621029013), (26.099999992, 5.707611851))
            Line((26.099999992, 5.707611851), (26.099999992, 4.499999993))
            ThreePointArc((26.099999992, 4.499999993), (25.367766954, 2.73223305), (23.600000019, 1.999999995))
            ThreePointArc((23.600000019, 1.999999995), (23.246446625, 2.146446603), (23.100000014, 2.499999995))
            Line((23.100000014, 2.499999995), (23.100000014, 4.149999994))
            ThreePointArc((23.100000014, 4.149999994), (22.953553405, 4.503553383), (22.600000016, 4.649999992))
            Line((22.600000016, 4.649999992), (21.100000017, 4.649999992))
            ThreePointArc((21.100000017, 4.649999992), (20.392893235, 4.357106773), (20.100000016, 3.649999992))
            Line((20.100000016, 3.649999992), (20.100000016, 2.000000008))
        make_face(mode=Mode.SUBTRACT)
    extrude(amount=-AUFSATZ_LINEAR_AUSTRAGEN1_DEPTH)


solid = part.part
